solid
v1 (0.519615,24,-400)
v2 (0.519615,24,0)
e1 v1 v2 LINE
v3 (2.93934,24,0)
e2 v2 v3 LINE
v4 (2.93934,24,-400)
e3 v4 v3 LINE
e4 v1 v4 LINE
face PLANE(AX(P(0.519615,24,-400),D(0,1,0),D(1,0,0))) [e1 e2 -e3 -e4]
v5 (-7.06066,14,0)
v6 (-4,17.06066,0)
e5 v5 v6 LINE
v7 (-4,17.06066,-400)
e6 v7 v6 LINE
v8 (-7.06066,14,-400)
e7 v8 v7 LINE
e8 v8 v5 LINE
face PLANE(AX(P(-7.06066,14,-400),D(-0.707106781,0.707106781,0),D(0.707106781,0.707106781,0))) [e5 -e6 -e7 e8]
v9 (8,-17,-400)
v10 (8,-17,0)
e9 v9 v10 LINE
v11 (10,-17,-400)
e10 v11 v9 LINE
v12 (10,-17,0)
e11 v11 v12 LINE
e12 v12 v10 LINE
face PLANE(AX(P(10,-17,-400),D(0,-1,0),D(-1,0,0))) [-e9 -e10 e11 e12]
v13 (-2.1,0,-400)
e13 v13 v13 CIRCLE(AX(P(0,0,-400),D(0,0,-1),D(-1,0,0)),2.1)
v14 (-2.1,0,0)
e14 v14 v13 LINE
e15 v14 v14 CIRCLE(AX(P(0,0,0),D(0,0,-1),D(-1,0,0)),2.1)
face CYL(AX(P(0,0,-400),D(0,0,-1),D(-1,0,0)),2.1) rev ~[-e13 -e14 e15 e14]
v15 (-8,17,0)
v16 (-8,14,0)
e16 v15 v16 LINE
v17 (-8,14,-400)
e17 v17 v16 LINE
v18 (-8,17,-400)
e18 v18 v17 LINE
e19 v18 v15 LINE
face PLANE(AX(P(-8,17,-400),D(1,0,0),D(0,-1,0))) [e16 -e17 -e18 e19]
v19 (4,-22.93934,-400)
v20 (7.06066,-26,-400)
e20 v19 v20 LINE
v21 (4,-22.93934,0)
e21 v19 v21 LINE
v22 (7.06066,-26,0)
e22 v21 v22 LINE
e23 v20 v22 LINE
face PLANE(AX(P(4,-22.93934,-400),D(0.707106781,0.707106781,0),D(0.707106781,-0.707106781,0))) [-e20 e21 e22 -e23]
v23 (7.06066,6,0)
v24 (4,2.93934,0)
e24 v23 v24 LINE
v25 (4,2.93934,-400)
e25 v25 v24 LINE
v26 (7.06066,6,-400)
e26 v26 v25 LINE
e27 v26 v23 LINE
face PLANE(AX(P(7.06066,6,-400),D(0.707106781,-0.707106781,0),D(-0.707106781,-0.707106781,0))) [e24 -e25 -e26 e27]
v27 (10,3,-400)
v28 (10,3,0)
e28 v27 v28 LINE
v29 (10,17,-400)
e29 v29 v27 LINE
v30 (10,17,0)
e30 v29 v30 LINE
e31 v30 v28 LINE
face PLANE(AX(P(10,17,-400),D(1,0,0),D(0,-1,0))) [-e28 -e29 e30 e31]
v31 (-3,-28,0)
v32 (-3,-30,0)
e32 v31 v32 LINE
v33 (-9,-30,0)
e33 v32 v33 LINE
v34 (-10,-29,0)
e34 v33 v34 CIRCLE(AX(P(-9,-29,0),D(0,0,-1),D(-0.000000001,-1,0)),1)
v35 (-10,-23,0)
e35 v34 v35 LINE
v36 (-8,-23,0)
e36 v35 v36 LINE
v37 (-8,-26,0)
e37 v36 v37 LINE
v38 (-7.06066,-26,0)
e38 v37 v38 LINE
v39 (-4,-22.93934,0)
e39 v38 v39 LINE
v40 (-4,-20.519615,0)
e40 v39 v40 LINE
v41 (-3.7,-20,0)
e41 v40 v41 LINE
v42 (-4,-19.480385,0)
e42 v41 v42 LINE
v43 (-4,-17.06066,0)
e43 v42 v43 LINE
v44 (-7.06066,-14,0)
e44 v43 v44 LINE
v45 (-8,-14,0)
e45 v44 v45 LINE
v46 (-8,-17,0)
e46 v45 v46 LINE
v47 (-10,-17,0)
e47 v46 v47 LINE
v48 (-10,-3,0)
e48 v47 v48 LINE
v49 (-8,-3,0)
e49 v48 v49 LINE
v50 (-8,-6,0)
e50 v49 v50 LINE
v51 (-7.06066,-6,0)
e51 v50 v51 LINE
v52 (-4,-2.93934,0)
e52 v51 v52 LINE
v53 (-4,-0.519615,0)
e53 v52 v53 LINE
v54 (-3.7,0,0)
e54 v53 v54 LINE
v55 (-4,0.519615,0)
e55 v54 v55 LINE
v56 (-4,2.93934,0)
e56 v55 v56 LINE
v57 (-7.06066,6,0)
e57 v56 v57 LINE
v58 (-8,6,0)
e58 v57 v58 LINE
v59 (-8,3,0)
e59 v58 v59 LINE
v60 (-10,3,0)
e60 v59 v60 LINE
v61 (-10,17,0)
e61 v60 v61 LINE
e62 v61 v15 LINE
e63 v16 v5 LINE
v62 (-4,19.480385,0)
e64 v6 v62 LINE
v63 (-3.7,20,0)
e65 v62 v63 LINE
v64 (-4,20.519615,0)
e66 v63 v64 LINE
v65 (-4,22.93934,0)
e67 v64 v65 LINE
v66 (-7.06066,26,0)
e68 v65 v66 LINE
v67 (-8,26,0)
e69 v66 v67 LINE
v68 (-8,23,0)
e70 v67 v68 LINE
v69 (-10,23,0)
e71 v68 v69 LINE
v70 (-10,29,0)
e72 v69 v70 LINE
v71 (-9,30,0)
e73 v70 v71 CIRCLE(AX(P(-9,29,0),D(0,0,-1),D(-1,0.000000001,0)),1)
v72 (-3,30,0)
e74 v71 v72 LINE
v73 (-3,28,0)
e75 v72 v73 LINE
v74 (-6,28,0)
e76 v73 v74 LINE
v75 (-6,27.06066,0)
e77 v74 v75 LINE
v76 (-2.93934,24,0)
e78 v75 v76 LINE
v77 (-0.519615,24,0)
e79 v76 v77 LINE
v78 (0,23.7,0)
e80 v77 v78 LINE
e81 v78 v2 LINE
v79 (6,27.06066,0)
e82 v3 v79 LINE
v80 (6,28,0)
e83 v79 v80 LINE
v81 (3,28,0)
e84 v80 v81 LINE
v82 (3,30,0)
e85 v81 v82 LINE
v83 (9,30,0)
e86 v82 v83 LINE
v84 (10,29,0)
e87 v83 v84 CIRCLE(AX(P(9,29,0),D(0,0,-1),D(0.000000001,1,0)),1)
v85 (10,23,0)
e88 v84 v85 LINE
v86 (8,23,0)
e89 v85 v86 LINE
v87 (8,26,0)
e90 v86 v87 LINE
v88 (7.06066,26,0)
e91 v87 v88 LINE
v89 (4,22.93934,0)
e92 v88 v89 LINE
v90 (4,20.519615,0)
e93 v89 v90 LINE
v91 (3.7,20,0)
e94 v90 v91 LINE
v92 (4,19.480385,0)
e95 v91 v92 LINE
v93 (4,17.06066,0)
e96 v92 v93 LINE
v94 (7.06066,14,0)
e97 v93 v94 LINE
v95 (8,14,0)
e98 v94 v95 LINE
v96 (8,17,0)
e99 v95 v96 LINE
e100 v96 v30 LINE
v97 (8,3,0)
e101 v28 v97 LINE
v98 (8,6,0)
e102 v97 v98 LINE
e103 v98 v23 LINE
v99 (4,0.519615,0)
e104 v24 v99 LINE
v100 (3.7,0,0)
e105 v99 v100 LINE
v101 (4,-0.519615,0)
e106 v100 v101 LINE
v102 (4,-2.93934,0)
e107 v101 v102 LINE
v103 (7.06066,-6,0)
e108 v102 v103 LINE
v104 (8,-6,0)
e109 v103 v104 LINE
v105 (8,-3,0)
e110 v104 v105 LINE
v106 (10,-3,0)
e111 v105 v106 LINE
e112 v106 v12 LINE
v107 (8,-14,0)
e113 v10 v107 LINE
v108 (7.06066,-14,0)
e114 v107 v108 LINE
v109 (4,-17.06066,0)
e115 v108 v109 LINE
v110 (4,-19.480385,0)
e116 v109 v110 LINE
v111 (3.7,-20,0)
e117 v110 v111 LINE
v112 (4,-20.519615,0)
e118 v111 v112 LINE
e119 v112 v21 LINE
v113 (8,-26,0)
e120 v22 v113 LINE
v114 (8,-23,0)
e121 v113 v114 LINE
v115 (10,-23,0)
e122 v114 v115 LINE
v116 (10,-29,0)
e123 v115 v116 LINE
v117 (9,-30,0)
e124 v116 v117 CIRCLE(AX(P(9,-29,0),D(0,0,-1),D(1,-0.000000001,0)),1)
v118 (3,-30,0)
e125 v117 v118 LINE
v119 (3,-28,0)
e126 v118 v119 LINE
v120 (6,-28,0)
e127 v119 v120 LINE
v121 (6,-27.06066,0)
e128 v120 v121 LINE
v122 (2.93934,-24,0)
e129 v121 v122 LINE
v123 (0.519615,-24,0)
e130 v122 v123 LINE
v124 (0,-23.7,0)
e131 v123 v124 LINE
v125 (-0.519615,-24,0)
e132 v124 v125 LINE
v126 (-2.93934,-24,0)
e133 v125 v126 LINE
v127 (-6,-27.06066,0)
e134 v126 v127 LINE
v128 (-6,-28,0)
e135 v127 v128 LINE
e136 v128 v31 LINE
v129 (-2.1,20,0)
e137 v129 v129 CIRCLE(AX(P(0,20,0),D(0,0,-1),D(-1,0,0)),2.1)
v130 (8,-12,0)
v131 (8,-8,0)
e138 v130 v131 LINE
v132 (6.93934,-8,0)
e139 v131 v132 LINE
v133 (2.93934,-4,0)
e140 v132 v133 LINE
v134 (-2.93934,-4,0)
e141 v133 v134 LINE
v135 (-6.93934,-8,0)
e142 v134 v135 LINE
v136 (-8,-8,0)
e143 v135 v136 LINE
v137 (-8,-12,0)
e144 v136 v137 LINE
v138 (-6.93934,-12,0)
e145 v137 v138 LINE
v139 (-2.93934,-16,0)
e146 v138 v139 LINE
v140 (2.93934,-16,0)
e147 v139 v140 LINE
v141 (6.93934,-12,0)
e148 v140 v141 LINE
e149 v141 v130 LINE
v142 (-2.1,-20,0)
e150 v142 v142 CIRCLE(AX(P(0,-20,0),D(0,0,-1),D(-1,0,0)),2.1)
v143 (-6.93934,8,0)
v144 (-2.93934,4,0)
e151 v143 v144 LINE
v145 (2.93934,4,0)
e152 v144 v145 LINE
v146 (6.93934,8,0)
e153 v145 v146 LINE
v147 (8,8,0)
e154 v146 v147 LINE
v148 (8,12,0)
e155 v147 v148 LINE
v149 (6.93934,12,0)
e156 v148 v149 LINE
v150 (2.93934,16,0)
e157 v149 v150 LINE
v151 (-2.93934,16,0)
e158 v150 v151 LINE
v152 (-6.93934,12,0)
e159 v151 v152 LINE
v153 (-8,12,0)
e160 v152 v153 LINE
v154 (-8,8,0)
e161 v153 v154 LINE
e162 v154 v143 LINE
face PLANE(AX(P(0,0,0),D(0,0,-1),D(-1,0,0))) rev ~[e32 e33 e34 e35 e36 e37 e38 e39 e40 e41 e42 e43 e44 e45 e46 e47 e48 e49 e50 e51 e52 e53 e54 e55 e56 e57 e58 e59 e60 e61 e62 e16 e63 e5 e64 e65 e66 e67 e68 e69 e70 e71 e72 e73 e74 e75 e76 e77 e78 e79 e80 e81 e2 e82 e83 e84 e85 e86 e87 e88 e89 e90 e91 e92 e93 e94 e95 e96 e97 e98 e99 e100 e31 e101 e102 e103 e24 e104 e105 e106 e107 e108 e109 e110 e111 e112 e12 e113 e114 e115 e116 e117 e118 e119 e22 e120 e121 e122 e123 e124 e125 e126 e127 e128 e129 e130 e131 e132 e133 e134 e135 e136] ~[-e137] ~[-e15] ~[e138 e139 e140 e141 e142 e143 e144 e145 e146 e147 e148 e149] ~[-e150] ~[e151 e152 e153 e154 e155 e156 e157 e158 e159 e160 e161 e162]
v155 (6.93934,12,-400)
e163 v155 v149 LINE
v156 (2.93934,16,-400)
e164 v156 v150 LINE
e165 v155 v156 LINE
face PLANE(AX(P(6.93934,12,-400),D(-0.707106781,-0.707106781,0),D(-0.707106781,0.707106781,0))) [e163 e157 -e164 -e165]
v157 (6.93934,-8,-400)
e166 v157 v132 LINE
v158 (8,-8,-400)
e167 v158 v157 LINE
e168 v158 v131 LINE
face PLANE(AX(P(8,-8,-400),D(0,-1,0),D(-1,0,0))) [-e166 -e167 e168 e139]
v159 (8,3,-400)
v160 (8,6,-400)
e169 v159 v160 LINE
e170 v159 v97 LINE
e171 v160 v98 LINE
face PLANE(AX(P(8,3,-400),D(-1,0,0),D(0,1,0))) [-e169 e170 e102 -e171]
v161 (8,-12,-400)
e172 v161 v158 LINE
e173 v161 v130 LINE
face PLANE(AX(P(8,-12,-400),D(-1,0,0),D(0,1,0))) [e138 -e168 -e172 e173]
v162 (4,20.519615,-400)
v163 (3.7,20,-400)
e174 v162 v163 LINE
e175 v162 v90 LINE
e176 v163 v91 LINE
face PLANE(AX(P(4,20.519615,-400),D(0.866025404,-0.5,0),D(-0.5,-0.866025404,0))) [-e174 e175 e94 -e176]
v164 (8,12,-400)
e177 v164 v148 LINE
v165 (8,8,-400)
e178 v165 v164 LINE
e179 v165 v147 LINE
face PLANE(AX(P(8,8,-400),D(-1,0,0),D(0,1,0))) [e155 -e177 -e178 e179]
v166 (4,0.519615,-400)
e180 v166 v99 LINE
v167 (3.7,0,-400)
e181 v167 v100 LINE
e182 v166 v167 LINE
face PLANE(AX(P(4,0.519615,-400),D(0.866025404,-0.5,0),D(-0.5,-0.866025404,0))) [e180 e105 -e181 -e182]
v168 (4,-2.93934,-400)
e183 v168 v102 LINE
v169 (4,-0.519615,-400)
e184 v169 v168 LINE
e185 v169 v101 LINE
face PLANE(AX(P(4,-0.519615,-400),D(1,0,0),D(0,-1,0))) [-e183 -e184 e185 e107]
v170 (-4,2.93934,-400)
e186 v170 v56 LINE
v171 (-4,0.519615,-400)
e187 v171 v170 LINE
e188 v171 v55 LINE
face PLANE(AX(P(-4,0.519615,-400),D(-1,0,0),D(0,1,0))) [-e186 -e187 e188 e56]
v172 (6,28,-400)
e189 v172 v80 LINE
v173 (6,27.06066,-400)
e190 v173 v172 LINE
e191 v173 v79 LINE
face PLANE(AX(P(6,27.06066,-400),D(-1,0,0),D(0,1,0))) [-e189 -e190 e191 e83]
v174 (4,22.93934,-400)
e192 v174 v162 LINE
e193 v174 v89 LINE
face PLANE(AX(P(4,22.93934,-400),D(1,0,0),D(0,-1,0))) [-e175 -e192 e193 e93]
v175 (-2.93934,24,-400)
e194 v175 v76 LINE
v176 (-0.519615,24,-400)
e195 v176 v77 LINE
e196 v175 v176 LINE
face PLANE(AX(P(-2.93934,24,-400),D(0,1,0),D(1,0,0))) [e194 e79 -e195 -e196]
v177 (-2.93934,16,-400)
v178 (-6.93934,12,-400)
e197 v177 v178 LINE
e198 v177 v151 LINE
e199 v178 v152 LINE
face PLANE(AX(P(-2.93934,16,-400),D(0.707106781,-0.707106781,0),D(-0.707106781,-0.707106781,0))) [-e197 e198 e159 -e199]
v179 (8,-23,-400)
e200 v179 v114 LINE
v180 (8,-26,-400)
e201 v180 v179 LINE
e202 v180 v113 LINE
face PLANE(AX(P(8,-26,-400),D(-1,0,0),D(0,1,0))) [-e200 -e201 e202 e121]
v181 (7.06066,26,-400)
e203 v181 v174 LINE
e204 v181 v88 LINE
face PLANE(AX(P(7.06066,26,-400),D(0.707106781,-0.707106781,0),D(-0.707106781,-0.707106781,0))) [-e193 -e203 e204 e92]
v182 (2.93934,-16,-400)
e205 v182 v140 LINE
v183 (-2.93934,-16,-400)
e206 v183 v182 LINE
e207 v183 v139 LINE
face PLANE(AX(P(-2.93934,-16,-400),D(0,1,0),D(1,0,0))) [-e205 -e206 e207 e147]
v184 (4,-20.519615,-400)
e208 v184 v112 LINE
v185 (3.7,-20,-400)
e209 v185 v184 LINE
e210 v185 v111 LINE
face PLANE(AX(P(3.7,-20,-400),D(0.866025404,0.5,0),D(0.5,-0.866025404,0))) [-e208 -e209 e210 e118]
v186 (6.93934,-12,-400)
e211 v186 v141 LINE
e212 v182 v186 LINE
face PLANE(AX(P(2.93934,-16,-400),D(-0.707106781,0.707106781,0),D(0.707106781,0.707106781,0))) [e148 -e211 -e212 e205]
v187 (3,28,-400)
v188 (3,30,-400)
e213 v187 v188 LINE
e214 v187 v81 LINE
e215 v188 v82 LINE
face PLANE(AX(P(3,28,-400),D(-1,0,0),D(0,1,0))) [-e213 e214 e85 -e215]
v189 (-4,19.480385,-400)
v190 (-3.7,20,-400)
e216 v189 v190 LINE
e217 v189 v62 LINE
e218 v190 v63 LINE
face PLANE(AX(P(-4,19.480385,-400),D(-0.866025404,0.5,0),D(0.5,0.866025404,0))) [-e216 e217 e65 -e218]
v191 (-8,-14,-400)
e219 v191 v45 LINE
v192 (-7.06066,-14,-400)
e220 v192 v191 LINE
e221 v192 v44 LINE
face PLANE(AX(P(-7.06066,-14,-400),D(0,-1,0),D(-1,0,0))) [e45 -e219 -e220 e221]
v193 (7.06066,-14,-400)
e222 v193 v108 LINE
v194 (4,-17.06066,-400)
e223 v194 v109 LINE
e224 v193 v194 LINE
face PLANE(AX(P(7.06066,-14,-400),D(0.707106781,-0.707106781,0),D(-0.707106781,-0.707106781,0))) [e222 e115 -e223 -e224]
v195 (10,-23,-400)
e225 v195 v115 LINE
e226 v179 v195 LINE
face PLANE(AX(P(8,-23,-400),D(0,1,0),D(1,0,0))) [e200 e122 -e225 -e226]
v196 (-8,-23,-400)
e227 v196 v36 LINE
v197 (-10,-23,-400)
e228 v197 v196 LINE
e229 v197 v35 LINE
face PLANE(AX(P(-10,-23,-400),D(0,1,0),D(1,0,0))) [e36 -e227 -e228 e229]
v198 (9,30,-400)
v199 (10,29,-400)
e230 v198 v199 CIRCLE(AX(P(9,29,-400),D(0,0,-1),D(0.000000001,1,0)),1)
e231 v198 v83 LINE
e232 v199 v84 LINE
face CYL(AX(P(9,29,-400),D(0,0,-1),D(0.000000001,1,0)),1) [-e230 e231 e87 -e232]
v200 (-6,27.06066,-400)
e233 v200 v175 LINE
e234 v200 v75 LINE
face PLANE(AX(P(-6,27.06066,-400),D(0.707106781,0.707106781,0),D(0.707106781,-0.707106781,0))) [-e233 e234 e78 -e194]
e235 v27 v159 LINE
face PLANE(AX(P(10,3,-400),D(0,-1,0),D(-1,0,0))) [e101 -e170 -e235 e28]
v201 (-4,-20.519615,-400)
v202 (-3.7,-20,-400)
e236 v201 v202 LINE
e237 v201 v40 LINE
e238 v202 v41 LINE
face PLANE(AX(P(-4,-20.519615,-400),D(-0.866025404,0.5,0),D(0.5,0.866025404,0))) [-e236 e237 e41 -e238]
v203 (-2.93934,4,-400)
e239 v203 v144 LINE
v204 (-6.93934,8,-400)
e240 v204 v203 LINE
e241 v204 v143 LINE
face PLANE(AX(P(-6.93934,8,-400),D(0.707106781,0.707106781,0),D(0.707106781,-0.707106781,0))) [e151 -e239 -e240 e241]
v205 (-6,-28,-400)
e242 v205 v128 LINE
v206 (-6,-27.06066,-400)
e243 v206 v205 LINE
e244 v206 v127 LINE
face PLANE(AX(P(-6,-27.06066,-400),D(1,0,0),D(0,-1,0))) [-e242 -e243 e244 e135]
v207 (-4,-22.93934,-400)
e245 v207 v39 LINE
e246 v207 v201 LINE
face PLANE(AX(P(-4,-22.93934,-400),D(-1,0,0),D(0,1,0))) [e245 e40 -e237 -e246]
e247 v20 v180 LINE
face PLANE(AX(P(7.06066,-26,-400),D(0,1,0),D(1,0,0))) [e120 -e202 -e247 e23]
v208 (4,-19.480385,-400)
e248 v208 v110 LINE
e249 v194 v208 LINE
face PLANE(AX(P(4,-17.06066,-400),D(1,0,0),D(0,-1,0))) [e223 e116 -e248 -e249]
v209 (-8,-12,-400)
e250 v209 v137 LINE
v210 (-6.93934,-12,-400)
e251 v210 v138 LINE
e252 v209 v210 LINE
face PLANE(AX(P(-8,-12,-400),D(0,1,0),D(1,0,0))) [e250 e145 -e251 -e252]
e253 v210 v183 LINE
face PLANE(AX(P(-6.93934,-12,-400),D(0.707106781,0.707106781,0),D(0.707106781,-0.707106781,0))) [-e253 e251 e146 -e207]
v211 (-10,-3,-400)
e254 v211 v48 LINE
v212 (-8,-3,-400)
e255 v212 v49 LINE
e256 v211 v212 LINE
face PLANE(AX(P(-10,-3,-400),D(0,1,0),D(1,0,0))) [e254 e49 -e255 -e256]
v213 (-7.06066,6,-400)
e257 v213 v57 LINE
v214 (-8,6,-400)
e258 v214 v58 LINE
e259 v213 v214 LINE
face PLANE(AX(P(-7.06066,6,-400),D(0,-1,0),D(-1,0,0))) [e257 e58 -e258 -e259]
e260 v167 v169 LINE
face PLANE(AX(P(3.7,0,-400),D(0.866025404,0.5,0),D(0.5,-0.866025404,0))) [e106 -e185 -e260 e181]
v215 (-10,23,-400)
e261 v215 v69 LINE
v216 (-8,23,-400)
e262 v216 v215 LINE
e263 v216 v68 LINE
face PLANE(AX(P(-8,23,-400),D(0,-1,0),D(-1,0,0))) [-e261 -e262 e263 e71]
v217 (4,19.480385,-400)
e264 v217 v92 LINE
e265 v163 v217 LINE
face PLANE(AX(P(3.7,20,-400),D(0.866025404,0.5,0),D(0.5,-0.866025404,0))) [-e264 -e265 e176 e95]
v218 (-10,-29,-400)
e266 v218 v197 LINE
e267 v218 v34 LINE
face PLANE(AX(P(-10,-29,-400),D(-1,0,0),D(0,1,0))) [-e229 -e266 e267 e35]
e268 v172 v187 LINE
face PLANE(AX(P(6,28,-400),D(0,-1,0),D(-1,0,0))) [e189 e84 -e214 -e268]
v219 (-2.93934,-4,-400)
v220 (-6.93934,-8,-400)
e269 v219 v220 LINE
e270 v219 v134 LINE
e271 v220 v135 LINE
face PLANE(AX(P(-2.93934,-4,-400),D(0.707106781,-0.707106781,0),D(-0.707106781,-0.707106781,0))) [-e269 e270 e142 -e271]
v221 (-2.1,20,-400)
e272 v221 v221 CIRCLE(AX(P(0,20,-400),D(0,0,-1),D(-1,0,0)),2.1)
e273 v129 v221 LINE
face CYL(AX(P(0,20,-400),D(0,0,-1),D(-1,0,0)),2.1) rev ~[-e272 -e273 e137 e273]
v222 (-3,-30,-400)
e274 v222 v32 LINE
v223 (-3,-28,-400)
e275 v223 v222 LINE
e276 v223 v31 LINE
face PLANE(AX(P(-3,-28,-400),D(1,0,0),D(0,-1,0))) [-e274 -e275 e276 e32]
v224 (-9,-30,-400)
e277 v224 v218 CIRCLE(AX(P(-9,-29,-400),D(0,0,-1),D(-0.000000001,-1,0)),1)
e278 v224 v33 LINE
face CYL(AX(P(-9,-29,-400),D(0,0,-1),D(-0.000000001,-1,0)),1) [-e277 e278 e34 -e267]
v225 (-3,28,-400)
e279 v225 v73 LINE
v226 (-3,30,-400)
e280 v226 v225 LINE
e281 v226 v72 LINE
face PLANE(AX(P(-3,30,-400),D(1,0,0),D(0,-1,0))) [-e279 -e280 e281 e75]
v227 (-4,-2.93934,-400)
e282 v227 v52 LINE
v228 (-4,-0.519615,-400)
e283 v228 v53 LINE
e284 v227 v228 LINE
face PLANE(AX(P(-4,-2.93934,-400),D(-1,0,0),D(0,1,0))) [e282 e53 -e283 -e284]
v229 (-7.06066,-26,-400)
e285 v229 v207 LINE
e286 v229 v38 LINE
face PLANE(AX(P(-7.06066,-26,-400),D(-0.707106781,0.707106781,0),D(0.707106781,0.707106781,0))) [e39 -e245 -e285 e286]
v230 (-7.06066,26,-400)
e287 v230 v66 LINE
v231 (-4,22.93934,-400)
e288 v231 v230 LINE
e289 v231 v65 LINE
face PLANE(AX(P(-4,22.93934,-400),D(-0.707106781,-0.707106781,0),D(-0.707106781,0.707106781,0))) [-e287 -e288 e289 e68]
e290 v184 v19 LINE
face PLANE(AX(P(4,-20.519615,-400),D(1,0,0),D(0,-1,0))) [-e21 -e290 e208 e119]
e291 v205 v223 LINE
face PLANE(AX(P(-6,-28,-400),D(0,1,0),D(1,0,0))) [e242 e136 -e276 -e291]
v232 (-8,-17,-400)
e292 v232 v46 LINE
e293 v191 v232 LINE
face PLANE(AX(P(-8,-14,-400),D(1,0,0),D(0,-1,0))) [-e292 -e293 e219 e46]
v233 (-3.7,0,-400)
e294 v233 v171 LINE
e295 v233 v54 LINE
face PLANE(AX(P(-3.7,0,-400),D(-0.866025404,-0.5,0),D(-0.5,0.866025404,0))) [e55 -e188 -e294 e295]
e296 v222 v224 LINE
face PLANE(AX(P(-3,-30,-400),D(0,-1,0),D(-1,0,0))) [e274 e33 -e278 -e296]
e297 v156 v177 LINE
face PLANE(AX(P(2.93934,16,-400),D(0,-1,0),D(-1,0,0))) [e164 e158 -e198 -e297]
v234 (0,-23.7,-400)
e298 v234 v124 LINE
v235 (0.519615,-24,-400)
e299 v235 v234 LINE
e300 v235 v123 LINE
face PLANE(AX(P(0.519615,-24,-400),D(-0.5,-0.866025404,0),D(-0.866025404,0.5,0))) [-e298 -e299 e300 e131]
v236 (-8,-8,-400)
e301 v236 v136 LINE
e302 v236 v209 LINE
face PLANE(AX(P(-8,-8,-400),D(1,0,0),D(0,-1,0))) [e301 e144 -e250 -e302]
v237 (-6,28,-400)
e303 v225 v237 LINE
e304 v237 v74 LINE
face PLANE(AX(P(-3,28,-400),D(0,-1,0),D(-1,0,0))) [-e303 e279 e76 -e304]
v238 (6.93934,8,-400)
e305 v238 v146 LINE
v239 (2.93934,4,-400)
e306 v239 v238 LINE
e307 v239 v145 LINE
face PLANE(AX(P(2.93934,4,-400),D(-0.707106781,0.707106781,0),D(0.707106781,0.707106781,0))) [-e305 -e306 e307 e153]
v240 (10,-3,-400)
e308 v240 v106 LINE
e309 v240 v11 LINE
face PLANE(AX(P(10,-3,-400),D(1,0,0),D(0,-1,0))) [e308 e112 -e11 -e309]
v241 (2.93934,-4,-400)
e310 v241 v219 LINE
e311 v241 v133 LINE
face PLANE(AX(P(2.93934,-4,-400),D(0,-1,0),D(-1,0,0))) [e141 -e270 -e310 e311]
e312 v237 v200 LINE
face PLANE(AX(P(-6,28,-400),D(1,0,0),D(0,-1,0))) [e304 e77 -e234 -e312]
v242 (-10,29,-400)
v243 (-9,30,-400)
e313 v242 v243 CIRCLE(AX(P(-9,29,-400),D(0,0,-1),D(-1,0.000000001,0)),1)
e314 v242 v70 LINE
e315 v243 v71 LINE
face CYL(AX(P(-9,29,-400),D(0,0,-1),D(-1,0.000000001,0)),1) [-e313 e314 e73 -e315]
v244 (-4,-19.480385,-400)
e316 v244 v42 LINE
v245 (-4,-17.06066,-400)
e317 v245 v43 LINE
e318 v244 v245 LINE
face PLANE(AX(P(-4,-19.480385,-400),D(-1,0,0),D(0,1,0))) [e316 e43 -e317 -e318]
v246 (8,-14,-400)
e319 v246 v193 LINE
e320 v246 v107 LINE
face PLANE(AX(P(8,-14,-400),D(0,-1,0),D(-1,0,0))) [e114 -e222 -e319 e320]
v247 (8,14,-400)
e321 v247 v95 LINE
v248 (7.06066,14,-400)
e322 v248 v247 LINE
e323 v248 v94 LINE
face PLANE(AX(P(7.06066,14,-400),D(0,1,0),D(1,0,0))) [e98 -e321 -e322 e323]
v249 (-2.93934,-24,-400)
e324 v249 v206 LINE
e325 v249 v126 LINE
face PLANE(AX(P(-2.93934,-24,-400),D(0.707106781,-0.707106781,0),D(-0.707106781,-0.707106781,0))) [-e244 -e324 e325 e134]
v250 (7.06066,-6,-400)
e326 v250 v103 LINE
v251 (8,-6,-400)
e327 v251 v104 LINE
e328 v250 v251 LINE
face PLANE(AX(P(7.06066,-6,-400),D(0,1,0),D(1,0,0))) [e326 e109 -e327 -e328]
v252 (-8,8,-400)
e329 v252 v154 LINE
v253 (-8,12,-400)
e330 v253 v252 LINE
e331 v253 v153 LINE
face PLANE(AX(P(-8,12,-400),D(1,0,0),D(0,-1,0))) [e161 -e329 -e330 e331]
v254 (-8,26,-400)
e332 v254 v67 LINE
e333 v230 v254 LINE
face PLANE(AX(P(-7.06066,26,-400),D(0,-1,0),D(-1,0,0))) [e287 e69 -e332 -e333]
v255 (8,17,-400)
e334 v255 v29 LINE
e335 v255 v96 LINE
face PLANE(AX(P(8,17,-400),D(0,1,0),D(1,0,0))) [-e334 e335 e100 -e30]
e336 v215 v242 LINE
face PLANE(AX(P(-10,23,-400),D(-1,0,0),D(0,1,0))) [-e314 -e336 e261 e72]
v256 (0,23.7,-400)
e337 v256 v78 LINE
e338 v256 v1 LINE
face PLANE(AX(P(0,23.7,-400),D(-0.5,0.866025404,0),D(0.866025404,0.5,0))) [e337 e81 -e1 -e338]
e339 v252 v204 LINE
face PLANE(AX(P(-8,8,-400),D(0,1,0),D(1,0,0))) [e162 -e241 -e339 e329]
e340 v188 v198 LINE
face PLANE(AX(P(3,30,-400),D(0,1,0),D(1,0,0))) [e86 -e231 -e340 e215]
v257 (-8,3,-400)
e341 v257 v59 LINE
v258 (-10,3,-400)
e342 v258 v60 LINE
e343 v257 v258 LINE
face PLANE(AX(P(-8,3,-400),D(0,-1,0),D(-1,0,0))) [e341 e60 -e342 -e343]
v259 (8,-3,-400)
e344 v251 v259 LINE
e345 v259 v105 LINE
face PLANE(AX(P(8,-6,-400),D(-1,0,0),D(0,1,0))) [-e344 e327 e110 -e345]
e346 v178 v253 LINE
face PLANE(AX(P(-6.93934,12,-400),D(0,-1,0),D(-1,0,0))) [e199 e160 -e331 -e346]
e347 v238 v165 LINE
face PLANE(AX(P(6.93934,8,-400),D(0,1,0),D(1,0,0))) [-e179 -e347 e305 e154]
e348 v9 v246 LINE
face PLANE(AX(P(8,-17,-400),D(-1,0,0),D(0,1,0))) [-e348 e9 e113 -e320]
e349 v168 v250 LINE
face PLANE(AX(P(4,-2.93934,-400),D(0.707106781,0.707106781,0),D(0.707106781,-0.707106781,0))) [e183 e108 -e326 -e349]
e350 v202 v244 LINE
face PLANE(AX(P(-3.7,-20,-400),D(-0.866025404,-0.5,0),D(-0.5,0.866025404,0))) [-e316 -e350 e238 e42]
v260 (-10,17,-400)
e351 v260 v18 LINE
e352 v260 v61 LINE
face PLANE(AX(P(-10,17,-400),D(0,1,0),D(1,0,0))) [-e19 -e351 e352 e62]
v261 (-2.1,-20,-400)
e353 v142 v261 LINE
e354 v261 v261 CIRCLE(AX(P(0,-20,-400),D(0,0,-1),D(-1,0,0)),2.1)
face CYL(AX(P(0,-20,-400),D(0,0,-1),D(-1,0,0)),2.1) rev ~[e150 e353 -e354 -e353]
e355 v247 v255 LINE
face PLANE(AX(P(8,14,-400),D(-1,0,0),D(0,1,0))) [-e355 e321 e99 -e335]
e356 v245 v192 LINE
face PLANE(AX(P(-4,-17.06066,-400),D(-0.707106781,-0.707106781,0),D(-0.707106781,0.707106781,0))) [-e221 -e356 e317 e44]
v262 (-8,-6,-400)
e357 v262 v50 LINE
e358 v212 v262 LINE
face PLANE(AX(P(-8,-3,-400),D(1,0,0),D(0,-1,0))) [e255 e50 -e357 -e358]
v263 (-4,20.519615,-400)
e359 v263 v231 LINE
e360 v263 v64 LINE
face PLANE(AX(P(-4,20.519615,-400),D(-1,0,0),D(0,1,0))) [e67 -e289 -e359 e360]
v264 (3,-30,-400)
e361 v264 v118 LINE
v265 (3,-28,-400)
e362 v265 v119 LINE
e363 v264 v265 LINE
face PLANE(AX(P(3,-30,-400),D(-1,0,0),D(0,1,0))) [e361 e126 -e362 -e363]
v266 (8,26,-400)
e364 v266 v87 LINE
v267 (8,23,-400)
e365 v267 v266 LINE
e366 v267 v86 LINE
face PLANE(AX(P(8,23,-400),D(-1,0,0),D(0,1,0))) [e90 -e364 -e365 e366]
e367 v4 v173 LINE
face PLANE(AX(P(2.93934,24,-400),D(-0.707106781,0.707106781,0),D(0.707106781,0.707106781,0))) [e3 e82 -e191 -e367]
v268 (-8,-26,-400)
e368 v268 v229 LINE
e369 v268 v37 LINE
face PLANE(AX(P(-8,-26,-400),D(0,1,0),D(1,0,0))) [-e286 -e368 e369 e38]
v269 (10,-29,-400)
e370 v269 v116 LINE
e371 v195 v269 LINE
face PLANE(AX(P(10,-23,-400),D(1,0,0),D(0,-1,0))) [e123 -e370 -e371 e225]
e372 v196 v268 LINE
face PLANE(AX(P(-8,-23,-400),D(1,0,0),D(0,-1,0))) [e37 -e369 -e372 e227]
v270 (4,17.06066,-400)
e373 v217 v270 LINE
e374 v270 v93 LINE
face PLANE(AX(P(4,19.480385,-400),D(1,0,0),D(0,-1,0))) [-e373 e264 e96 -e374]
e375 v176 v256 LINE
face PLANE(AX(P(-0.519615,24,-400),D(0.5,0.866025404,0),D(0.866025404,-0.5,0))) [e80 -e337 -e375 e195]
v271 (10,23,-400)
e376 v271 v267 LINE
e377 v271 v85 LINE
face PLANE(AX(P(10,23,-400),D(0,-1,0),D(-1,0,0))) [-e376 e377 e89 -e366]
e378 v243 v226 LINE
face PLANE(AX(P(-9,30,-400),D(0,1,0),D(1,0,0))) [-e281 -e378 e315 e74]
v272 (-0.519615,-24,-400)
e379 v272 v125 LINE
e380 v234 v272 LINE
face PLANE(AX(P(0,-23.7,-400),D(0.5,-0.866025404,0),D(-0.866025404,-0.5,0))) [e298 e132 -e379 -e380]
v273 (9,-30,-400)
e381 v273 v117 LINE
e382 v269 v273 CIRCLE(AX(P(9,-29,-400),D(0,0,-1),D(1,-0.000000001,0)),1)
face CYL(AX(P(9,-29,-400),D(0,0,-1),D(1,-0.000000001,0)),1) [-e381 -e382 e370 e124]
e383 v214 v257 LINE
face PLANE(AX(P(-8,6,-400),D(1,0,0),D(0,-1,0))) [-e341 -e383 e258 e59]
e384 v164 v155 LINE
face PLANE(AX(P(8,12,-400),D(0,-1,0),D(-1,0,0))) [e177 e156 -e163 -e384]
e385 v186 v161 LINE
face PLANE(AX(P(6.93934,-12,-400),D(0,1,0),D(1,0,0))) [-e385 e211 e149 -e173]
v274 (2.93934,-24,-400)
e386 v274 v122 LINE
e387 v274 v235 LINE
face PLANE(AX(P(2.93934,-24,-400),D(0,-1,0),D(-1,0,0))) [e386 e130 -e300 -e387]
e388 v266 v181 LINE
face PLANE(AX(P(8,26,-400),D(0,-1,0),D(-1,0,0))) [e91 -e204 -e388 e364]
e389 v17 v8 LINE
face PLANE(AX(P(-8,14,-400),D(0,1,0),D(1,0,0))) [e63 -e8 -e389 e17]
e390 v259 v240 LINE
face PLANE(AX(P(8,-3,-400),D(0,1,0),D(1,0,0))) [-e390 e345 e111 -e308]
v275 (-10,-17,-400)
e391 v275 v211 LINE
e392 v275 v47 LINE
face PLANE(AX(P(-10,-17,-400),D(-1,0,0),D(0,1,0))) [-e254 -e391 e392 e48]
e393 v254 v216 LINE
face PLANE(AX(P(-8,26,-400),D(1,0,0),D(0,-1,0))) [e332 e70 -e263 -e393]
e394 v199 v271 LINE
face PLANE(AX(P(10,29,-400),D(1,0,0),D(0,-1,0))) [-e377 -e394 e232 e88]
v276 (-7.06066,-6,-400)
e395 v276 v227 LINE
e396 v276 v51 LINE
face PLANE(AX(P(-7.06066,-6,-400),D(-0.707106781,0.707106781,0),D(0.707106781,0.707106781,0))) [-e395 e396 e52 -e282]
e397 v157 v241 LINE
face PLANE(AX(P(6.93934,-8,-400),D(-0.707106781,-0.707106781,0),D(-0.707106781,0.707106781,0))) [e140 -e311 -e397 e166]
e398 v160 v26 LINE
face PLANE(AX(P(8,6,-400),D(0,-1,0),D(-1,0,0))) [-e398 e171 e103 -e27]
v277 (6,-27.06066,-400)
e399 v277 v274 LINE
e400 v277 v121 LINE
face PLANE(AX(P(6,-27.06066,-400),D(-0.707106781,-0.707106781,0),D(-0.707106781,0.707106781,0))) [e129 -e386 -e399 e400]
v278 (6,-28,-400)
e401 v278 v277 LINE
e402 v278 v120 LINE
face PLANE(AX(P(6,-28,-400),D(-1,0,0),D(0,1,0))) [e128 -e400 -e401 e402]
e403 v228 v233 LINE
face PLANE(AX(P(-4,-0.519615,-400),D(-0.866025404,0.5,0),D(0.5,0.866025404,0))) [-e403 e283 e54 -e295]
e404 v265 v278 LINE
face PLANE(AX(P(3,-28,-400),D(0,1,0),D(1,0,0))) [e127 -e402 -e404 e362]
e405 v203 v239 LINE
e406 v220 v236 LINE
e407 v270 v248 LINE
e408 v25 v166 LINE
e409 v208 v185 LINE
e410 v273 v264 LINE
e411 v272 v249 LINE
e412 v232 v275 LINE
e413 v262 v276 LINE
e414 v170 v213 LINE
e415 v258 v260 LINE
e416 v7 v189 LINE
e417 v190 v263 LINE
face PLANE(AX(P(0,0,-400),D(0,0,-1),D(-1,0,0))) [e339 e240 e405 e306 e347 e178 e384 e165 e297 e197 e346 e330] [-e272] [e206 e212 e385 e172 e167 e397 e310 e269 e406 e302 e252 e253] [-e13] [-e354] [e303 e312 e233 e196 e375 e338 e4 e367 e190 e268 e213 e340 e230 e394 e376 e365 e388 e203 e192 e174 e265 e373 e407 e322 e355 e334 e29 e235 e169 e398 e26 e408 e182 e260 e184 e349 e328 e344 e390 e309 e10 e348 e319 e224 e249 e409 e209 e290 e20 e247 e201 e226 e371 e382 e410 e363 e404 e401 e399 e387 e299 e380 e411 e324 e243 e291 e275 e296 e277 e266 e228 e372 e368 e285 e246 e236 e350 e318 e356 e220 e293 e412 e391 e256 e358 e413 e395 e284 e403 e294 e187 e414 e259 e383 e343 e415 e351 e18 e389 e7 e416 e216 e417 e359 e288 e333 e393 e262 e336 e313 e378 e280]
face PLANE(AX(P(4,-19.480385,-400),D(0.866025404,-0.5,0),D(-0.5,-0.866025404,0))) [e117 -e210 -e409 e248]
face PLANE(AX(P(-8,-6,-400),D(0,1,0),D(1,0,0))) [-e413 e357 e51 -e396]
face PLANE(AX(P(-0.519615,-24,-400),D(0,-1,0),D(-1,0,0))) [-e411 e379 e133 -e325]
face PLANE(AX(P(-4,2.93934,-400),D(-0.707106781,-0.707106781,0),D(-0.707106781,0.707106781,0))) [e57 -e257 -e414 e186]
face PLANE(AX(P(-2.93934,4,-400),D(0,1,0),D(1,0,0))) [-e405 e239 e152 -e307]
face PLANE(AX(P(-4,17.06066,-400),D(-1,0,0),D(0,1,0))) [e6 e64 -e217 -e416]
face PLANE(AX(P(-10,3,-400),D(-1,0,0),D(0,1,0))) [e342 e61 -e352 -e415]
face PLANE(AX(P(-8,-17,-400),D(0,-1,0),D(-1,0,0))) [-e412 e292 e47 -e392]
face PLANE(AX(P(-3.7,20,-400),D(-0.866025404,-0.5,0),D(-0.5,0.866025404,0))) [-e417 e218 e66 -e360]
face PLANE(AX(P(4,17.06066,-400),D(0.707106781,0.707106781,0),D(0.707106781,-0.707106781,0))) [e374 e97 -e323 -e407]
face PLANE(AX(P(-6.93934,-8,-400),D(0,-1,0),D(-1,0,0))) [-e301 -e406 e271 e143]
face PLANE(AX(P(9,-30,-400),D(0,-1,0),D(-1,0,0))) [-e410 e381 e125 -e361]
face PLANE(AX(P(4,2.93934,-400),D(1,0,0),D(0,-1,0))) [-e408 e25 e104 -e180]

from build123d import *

# Parameters (mm, degrees)
SKETCH1_R                 = 2.1
BOSS_EXTRUDE1_DEPTH       = 400
M5X0_8_TAPPED_HOLE1_D     = 4.2
M5X0_8_TAPPED_HOLE1_DEPTH = 14
M5X0_8_TAPPED_HOLE1_TIP   = 1.2618073
M5X0_8_TAPPED_HOLE2_D     = 4.2
M5X0_8_TAPPED_HOLE2_DEPTH = 14
M5X0_8_TAPPED_HOLE2_TIP   = 1.2618073


with BuildPart() as part:
    # Sketch1 → Boss-Extrude1 (new body)
    with BuildSketch(Plane(origin=(0, 0, -400), x_dir=(-1, 0, 0), z_dir=(0, 0, -1))):
        with BuildLine():
            Line((10, -17), (10, -3))
            Line((10, -3), (8, -3))
            Line((8, -3), (8, -6))
            Line((8, -6), (7.060660172, -6))
            Line((7.060660172, -6), (4, -2.939339828))
            Line((4, -2.939339828), (4, -0.519615242))
            Line((4, -0.519615242), (3.7, 0))
            Line((3.7, 0), (4, 0.519615242))
            Line((4, 0.519615242), (4, 2.939339828))
            Line((4, 2.939339828), (7.060660172, 6))
            Line((7.060660172, 6), (8, 6))
            Line((8, 6), (8, 3))
            Line((8, 3), (10, 3))
            Line((10, 3), (10, 17))
            Line((10, 17), (8, 17))
            Line((8, 17), (8, 14))
            Line((8, 14), (7.060660172, 14))
            Line((7.060660172, 14), (4, 17.060660172))
            Line((4, 17.060660172), (4, 19.480384758))
            Line((4, 19.480384758), (3.7, 20))
            Line((3.7, 20), (4, 20.519615242))
            Line((4, 20.519615242), (4, 22.939339828))
            Line((4, 22.939339828), (7.060660172, 26))
            Line((7.060660172, 26), (8, 26))
            Line((8, 26), (8, 23))
            Line((8, 23), (10, 23))
            Line((10, 23), (10, 29))
            ThreePointArc((10, 29), (9.707106781, 29.707106781), (9, 30))
            Line((9, 30), (3, 30))
            Line((3, 30), (3, 28))
            Line((3, 28), (6, 28))
            Line((6, 28), (6, 27.060660172))
            Line((6, 27.060660172), (2.939339828, 24))
            Line((2.939339828, 24), (0.519615242, 24))
            Line((0.519615242, 24), (0, 23.7))
            Line((0, 23.7), (-0.519615242, 24))
            Line((-0.519615242, 24), (-2.939339828, 24))
            Line((-2.939339828, 24), (-6, 27.060660172))
            Line((-6, 27.060660172), (-6, 28))
            Line((-6, 28), (-3, 28))
            Line((-3, 28), (-3, 30))
            Line((-3, 30), (-9, 30))
            ThreePointArc((-9, 30), (-9.707106781, 29.707106781), (-10, 29))
            Line((-10, 29), (-10, 23))
            Line((-10, 23), (-8, 23))
            Line((-8, 23), (-8, 26))
            Line((-8, 26), (-7.060660172, 26))
            Line((-7.060660172, 26), (-4, 22.939339828))
            Line((-4, 22.939339828), (-4, 20.519615242))
            Line((-4, 20.519615242), (-3.7, 20))
            Line((-3.7, 20), (-4, 19.480384758))
            Line((-4, 19.480384758), (-4, 17.060660172))
            Line((-4, 17.060660172), (-7.060660172, 14))
            Line((-7.060660172, 14), (-8, 14))
            Line((-8, 14), (-8, 17))
            Line((-8, 17), (-10, 17))
            Line((-10, 17), (-10, 3))
            Line((-10, 3), (-8, 3))
            Line((-8, 3), (-8, 6))
            Line((-8, 6), (-7.060660172, 6))
            Line((-7.060660172, 6), (-4, 2.939339828))
            Line((-4, 2.939339828), (-4, 0.519615242))
            Line((-4, 0.519615242), (-3.7, 0))
            Line((-3.7, 0), (-4, -0.519615242))
            Line((-4, -0.519615242), (-4, -2.939339828))
            Line((-4, -2.939339828), (-7.060660172, -6))
            Line((-7.060660172, -6), (-8, -6))
            Line((-8, -6), (-8, -3))
            Line((-8, -3), (-10, -3))
            Line((-10, -3), (-10, -17))
            Line((-10, -17), (-8, -17))
            Line((-8, -17), (-8, -14))
            Line((-8, -14), (-7.060660172, -14))
            Line((-7.060660172, -14), (-4, -17.060660172))
            Line((-4, -17.060660172), (-4, -19.480384758))
            Line((-4, -19.480384758), (-3.7, -20))
            Line((-3.7, -20), (-4, -20.519615242))
            Line((-4, -20.519615242), (-4, -22.939339828))
            Line((-4, -22.939339828), (-7.060660172, -26))
            Line((-7.060660172, -26), (-8, -26))
            Line((-8, -26), (-8, -23))
            Line((-8, -23), (-10, -23))
            Line((-10, -23), (-10, -29))
            ThreePointArc((-10, -29), (-9.707106781, -29.707106781), (-9, -30))
            Line((-9, -30), (-3, -30))
            Line((-3, -30), (-3, -28))
            Line((-3, -28), (-6, -28))
            Line((-6, -28), (-6, -27.060660172))
            Line((-6, -27.060660172), (-2.939339828, -24))
            Line((-2.939339828, -24), (-0.519615242, -24))
            Line((-0.519615242, -24), (0, -23.7))
            Line((0, -23.7), (0.519615242, -24))
            Line((0.519615242, -24), (2.939339828, -24))
            Line((2.939339828, -24), (6, -27.060660172))
            Line((6, -27.060660172), (6, -28))
            Line((6, -28), (3, -28))
            Line((3, -28), (3, -30))
            Line((3, -30), (9, -30))
            ThreePointArc((9, -30), (9.707106781, -29.707106781), (10, -29))
            Line((10, -29), (10, -23))
            Line((10, -23), (8, -23))
            Line((8, -23), (8, -26))
            Line((8, -26), (7.060660172, -26))
            Line((7.060660172, -26), (4, -22.939339828))
            Line((4, -22.939339828), (4, -20.519615242))
            Line((4, -20.519615242), (3.7, -20))
            Line((3.7, -20), (4, -19.480384758))
            Line((4, -19.480384758), (4, -17.060660172))
            Line((4, -17.060660172), (7.060660172, -14))
            Line((7.060660172, -14), (8, -14))
            Line((8, -14), (8, -17))
            Line((8, -17), (10, -17))
        make_face()
        Circle(SKETCH1_R, mode=Mode.SUBTRACT)
        with Locations((0, -20)):
            Circle(SKETCH1_R, mode=Mode.SUBTRACT)
        with Locations((0, 20)):
            Circle(SKETCH1_R, mode=Mode.SUBTRACT)
        Polygon((6.939339828, -8), (8, -8), (8, -12), (6.939339828, -12), (2.939339828, -16), (-2.939339828, -16), (-6.939339828, -12), (-8, -12), (-8, -8), (-6.939339828, -8), (-2.939339828, -4), (2.939339828, -4), align=None, mode=Mode.SUBTRACT)
        Polygon((8, 12), (8, 8), (6.939339828, 8), (2.939339828, 4), (-2.939339828, 4), (-6.939339828, 8), (-8, 8), (-8, 12), (-6.939339828, 12), (-2.939339828, 16), (2.939339828, 16), (6.939339828, 12), align=None, mode=Mode.SUBTRACT)
    extrude(amount=-BOSS_EXTRUDE1_DEPTH)

    # M5x0.8 Tapped Hole1
    with Locations(Plane.XY):
        with Locations((0, 20), (0, 0), (0, -20)):
            Hole(M5X0_8_TAPPED_HOLE1_D / 2, depth=M5X0_8_TAPPED_HOLE1_DEPTH)
            with Locations((0, 0, -(M5X0_8_TAPPED_HOLE1_DEPTH + M5X0_8_TAPPED_HOLE1_TIP / 2))):  # 118° drill point
                Cone(0, M5X0_8_TAPPED_HOLE1_D / 2, M5X0_8_TAPPED_HOLE1_TIP, mode=Mode.SUBTRACT)

    # M5x0.8 Tapped Hole2
    with Locations(Plane(origin=(0, 0, -400), x_dir=(-1, 0, 0), z_dir=(0, 0, -1))):
        with Locations((0, -20), (0, 0), (0, 20)):
            Hole(M5X0_8_TAPPED_HOLE2_D / 2, depth=M5X0_8_TAPPED_HOLE2_DEPTH)
            with Locations((0, 0, -(M5X0_8_TAPPED_HOLE2_DEPTH + M5X0_8_TAPPED_HOLE2_TIP / 2))):  # 118° drill point
                Cone(0, M5X0_8_TAPPED_HOLE2_D / 2, M5X0_8_TAPPED_HOLE2_TIP, mode=Mode.SUBTRACT)


solid = part.part
